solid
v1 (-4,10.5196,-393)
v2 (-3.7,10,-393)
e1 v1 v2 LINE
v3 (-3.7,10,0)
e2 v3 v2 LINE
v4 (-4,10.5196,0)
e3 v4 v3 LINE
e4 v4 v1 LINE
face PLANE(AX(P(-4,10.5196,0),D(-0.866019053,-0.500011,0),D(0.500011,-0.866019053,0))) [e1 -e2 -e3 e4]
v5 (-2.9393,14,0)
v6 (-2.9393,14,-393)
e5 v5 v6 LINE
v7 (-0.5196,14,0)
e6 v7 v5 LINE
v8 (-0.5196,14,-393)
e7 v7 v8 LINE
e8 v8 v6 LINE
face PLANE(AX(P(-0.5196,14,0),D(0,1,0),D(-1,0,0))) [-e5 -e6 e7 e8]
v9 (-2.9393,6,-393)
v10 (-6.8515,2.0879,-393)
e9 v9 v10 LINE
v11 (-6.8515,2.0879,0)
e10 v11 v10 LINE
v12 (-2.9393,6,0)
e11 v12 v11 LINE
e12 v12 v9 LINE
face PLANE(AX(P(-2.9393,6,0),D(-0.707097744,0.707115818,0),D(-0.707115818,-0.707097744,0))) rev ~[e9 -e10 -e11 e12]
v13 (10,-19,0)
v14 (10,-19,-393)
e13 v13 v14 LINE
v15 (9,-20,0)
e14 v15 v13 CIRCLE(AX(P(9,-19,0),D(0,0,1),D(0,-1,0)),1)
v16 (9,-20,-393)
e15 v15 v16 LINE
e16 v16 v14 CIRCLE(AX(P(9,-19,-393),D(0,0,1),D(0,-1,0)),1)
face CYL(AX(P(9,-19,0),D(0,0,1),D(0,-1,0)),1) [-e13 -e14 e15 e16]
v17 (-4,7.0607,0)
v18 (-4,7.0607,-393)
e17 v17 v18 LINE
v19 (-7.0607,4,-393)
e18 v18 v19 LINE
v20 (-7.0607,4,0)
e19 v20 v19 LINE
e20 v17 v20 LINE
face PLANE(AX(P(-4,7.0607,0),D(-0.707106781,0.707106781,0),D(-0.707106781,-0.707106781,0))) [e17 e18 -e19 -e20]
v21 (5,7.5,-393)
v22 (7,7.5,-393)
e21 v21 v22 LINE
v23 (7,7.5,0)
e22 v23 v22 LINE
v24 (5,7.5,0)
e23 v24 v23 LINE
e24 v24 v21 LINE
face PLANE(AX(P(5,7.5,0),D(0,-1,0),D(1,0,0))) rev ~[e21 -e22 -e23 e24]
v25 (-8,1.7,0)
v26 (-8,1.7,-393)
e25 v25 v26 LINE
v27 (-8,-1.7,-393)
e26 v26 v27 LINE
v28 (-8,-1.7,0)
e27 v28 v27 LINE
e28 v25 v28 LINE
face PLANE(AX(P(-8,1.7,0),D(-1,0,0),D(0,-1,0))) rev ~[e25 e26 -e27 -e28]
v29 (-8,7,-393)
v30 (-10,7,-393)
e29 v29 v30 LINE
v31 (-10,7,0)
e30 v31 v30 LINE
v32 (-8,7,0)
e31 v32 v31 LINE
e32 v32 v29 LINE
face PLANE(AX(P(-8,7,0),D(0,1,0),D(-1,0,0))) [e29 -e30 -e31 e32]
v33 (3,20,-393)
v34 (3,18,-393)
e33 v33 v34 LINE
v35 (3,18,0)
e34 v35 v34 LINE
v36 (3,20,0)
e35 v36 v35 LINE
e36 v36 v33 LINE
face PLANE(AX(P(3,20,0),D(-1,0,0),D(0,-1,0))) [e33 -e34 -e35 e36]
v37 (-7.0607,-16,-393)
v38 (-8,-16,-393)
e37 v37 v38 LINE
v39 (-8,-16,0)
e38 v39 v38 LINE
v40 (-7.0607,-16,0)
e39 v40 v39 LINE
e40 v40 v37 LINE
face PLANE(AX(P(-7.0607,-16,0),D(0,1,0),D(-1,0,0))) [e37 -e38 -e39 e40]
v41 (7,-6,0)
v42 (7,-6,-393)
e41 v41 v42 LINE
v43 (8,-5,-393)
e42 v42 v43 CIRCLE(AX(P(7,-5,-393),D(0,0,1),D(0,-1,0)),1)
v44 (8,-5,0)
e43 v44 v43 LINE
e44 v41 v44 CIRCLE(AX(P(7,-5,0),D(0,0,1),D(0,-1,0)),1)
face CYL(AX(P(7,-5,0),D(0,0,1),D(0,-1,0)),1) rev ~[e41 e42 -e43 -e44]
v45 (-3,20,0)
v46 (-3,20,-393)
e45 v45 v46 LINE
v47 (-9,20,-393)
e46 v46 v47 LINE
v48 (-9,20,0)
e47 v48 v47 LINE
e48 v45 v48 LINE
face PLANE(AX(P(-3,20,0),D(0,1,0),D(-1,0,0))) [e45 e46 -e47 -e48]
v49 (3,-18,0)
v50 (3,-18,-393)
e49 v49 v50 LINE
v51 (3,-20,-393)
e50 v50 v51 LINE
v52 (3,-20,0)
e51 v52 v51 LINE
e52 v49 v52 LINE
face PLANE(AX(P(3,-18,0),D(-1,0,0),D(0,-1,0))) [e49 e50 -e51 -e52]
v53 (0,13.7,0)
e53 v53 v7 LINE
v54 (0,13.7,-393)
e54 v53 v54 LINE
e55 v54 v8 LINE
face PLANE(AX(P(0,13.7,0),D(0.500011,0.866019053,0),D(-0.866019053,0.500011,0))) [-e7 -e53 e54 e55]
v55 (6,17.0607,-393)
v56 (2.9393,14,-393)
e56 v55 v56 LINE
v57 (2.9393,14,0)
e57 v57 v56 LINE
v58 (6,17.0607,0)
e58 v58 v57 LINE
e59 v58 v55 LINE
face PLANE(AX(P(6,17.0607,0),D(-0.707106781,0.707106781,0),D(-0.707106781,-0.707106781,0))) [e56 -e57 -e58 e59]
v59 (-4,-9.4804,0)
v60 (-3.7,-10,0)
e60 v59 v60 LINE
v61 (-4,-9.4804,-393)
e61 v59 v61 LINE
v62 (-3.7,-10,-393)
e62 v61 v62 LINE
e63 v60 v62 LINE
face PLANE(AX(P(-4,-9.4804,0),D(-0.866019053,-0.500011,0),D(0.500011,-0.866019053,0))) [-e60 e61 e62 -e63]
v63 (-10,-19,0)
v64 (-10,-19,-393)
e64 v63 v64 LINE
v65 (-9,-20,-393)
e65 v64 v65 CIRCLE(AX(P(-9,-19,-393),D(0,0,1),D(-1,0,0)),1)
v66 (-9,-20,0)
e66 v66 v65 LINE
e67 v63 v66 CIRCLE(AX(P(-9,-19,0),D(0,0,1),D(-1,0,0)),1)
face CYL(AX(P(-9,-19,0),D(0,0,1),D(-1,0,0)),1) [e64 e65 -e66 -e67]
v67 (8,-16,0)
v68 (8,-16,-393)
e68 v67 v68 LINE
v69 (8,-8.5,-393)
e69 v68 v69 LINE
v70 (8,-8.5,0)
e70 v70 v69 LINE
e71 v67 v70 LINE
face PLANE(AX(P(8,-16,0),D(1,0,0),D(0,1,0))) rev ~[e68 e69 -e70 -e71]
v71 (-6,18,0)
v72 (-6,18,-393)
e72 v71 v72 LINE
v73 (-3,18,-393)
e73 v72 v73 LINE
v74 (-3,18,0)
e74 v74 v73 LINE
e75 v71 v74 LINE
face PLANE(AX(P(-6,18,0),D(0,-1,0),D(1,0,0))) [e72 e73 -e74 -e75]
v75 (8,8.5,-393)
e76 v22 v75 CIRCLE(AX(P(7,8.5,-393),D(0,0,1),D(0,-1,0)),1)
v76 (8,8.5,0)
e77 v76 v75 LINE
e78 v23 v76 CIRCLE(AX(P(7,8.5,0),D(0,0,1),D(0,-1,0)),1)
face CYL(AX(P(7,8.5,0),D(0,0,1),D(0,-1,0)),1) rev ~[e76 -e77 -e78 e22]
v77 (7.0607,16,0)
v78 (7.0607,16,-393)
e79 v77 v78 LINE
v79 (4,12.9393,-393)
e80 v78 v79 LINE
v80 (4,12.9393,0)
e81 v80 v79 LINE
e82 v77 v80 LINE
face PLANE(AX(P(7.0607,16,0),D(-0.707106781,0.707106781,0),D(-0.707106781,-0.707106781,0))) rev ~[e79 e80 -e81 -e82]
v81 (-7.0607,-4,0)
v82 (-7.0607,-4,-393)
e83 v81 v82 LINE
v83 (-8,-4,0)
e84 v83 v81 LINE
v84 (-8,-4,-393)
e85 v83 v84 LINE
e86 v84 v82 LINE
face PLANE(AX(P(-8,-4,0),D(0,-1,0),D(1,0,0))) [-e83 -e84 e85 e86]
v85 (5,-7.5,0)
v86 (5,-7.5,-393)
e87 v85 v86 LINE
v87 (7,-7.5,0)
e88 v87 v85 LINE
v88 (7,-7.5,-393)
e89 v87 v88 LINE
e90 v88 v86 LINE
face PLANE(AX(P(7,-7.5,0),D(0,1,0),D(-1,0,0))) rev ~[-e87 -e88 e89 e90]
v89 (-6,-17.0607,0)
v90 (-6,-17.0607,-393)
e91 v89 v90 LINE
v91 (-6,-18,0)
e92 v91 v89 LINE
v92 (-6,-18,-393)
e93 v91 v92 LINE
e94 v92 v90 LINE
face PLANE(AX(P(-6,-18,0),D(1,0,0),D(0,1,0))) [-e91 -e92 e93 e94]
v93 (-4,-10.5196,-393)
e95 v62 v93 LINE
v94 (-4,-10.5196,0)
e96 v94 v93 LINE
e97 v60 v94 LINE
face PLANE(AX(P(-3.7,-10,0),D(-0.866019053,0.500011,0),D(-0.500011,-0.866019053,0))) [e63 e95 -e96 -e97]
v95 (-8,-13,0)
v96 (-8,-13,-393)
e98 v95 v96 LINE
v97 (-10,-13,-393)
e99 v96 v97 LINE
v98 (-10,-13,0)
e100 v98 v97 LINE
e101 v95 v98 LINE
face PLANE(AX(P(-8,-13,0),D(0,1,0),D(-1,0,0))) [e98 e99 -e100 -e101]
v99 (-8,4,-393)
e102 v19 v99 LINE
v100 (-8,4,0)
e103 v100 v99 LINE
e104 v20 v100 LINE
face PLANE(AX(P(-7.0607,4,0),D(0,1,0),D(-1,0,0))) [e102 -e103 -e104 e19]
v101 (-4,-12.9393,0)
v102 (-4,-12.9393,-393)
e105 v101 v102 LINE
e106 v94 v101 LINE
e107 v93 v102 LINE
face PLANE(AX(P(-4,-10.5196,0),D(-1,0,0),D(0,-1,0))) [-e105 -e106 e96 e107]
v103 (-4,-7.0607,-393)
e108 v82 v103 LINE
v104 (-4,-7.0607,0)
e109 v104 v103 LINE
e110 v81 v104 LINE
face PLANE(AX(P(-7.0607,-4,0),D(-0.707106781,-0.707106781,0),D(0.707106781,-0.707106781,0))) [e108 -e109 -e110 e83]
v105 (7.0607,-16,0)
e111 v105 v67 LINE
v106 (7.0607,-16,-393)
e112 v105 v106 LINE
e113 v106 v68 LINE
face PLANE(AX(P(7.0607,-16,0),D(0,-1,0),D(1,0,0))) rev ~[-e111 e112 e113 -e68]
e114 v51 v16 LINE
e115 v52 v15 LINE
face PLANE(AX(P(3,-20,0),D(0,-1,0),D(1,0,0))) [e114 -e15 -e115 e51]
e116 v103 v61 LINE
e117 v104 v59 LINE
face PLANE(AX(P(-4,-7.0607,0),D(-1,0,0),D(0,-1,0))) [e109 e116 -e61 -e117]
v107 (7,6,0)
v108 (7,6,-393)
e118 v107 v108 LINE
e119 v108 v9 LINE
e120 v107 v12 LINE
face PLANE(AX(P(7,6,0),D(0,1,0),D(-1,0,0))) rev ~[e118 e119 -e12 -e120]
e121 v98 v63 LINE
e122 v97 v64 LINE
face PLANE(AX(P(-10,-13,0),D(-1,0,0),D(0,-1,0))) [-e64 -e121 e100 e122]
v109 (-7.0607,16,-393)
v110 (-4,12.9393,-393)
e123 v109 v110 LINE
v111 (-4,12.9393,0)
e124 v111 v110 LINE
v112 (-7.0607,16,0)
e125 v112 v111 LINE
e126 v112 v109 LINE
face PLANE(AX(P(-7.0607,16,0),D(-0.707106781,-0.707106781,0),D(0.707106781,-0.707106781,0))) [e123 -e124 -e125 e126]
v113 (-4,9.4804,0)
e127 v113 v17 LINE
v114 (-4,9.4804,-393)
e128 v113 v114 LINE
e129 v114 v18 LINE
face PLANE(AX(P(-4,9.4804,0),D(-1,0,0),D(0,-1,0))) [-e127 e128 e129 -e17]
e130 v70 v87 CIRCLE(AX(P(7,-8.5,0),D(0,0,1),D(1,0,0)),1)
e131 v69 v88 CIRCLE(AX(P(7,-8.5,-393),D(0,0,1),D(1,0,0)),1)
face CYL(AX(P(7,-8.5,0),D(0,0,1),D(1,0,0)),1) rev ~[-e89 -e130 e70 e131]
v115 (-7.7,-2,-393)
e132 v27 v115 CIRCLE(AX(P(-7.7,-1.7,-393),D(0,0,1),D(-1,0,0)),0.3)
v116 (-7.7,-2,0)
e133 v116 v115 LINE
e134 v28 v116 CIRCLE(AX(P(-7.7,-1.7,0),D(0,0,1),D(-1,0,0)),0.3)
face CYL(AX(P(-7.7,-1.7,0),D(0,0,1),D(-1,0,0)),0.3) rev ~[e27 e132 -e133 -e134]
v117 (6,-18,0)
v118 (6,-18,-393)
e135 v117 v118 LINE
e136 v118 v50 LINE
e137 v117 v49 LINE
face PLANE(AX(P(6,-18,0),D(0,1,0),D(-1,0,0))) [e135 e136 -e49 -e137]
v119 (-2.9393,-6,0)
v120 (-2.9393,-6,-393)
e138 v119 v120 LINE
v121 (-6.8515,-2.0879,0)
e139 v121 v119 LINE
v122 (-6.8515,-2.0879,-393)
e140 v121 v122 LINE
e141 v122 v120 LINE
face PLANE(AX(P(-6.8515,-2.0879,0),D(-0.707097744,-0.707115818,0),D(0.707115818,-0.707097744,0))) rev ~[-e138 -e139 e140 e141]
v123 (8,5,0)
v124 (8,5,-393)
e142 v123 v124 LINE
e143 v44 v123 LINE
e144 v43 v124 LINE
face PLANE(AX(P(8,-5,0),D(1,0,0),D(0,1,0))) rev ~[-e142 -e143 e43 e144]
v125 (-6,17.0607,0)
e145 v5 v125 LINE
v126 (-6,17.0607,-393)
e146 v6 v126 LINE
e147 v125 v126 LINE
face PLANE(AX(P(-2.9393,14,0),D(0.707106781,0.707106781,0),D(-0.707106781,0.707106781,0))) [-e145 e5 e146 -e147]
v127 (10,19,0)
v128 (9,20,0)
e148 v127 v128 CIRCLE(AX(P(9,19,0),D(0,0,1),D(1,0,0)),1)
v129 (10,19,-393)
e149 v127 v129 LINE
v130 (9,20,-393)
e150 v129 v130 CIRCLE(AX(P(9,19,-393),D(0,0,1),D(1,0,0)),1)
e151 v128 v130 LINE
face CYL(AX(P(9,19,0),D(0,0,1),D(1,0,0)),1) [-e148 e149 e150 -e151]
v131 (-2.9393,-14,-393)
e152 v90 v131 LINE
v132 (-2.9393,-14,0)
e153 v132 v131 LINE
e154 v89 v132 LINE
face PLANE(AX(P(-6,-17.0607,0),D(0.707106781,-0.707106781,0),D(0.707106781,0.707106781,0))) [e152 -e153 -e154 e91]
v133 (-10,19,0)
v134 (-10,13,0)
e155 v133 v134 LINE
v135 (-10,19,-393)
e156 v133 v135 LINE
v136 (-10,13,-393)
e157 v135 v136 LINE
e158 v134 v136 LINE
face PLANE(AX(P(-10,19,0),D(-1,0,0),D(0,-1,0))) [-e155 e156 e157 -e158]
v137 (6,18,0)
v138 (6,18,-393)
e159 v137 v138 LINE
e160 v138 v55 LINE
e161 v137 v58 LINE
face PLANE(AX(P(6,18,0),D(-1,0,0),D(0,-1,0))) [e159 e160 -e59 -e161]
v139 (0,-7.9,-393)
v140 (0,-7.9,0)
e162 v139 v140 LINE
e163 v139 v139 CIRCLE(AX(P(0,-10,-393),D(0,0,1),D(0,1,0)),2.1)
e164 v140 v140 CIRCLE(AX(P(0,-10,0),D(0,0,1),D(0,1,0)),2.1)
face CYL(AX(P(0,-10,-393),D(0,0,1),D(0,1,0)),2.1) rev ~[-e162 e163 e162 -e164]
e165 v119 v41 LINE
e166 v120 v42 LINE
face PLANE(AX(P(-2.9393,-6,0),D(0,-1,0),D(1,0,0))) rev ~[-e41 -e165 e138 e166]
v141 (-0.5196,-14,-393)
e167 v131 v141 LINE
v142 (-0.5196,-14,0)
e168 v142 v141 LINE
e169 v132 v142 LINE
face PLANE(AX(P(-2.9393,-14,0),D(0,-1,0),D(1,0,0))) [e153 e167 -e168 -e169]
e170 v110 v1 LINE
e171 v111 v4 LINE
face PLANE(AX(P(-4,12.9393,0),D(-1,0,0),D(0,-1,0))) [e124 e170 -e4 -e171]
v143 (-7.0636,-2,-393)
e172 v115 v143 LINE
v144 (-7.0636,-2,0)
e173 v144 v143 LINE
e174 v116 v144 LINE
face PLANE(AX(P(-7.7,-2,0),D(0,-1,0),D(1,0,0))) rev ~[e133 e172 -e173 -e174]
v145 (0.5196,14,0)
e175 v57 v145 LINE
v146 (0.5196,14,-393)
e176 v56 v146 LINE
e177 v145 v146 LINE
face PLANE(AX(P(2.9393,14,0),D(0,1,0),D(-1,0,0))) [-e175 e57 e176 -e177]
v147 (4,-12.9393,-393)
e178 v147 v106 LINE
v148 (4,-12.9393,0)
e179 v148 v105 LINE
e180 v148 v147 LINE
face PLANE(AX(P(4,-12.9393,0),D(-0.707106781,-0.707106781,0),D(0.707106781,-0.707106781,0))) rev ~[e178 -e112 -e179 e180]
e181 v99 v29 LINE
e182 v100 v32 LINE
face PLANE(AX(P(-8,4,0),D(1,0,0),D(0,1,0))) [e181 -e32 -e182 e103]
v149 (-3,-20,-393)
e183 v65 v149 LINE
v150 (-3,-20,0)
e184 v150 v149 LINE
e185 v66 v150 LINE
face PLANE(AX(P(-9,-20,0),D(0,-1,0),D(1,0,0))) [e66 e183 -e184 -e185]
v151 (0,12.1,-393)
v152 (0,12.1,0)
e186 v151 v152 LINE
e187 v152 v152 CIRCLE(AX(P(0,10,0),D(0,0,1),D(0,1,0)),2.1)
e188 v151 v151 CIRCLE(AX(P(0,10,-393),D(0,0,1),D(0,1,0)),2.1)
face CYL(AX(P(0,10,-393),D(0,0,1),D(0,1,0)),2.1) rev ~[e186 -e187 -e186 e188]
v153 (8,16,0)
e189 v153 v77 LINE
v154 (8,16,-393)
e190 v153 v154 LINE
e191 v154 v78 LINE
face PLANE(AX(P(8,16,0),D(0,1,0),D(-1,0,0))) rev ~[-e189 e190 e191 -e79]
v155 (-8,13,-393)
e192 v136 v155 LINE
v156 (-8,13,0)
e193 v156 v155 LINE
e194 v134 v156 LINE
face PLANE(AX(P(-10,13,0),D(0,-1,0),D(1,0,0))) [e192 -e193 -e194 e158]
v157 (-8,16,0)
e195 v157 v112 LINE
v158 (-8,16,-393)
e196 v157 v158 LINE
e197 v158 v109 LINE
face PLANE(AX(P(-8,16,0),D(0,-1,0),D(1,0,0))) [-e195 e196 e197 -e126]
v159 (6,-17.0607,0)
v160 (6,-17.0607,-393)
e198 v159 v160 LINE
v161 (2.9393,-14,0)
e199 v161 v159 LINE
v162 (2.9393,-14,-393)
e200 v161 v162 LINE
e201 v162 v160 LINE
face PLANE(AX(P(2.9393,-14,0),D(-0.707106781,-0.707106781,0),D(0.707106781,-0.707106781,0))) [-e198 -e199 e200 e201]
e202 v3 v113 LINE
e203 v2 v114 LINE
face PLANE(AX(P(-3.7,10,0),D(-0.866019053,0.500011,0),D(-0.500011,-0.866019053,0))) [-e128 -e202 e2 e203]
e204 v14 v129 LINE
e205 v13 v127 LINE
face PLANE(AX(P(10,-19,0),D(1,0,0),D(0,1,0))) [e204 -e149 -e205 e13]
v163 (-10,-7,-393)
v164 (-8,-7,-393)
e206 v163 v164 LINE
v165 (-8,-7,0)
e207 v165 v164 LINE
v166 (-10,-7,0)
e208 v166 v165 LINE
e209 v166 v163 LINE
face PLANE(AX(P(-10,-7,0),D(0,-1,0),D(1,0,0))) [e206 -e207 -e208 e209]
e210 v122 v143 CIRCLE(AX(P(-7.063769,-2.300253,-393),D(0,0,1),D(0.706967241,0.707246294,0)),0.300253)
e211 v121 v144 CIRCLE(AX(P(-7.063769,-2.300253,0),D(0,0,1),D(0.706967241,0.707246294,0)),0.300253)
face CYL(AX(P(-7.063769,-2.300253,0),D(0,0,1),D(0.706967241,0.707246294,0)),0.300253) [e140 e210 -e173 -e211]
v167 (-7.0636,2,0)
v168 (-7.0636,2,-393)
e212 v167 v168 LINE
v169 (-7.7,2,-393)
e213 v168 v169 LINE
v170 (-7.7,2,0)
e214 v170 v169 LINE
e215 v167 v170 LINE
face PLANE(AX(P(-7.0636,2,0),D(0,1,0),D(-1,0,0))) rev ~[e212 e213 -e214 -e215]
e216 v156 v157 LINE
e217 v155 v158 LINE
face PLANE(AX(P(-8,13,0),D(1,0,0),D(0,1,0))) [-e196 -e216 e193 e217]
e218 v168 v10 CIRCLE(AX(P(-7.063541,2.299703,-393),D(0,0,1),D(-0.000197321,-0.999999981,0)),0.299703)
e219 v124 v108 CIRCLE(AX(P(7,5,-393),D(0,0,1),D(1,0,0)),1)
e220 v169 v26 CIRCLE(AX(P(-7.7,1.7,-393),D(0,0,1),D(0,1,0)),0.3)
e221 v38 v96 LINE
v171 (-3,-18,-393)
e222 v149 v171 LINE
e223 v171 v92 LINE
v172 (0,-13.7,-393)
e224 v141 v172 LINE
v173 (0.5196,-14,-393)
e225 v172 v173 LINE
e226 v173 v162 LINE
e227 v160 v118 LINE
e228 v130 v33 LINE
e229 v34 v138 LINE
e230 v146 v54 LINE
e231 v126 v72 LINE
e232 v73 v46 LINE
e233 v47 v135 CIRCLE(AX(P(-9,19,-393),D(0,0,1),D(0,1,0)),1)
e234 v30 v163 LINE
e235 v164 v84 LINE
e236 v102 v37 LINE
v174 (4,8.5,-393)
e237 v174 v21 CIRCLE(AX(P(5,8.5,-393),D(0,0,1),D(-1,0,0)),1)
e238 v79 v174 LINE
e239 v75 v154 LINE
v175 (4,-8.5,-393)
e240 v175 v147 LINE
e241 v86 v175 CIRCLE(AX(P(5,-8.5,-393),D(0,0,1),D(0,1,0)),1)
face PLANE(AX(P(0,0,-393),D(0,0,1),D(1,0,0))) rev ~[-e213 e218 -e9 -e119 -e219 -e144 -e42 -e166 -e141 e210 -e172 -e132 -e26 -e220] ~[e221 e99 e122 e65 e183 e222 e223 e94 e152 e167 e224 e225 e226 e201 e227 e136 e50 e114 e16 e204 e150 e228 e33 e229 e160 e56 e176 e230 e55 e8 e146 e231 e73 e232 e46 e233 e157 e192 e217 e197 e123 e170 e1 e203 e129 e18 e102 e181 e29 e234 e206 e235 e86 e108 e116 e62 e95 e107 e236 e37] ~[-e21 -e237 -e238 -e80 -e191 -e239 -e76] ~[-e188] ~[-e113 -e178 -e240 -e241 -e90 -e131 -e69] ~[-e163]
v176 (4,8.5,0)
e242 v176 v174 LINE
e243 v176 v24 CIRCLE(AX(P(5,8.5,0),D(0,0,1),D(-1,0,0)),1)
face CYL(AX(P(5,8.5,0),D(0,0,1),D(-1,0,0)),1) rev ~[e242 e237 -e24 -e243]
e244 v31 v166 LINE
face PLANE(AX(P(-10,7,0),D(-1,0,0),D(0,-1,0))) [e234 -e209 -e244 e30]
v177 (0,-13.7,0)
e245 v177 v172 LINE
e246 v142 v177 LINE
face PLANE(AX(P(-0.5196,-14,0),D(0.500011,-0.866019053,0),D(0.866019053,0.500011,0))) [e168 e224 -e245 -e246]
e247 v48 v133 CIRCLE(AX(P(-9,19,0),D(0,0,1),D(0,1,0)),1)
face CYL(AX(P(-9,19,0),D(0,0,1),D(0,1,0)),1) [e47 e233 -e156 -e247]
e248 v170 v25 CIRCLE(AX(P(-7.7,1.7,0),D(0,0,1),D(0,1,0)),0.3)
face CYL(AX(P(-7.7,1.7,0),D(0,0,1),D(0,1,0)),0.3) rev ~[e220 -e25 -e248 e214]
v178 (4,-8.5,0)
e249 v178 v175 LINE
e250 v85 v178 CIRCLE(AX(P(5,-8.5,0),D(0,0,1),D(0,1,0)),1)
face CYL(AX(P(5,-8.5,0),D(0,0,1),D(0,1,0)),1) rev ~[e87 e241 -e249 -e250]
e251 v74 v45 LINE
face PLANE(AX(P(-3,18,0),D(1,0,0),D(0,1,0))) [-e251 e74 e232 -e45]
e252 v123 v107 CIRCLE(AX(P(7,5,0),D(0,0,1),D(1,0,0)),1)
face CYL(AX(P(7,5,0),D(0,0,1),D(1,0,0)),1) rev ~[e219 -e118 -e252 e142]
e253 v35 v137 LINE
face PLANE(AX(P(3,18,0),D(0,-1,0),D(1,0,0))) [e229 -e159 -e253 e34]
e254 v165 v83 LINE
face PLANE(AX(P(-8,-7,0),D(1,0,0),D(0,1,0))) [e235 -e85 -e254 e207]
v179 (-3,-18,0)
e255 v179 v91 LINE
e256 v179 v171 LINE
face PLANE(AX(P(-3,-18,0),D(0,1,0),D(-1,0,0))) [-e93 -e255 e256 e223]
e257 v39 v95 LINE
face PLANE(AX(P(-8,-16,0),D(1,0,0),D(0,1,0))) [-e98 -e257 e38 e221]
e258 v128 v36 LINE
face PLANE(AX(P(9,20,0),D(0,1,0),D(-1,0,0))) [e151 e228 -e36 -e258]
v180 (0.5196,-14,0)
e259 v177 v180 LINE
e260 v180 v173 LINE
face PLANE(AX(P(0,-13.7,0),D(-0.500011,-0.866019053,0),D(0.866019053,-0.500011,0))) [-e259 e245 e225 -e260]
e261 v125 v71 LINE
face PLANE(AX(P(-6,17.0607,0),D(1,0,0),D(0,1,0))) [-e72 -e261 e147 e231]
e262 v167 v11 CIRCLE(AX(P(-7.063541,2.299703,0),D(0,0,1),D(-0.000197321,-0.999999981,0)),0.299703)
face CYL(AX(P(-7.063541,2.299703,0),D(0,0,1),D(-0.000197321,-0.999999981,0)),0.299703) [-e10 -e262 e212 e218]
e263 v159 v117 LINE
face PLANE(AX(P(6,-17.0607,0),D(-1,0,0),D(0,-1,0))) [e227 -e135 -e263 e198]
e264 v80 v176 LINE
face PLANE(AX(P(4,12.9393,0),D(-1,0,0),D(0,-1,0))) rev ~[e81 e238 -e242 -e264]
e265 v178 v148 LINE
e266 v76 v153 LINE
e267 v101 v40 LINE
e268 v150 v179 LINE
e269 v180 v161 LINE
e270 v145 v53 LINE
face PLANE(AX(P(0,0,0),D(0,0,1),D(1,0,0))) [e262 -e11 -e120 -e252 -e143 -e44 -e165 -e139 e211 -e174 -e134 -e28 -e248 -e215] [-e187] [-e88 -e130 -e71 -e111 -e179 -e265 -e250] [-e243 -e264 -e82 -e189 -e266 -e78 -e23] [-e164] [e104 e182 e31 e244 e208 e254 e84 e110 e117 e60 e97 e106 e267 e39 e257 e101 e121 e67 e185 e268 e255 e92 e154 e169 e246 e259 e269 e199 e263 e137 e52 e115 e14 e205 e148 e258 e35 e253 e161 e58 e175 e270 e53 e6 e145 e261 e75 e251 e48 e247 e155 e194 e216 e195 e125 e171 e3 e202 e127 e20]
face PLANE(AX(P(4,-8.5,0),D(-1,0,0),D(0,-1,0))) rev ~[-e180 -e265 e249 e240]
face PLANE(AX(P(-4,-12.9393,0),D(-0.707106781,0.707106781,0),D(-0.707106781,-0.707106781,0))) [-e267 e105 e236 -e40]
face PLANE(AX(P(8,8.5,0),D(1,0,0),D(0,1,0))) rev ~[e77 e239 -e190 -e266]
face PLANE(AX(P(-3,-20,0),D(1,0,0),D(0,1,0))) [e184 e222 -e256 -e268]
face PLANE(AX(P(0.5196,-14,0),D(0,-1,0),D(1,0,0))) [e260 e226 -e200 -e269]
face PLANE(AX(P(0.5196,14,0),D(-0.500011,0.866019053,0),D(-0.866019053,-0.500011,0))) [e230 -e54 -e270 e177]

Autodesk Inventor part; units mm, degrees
sketch "Sketch_63" plane through (0, 0, 0) normal (0, 0, 1) x (1, 0, 0)
  line L0 (-10, -7) -> (-8, -7)
  line L1 (-8, -7) -> (-8, -4)
  line L2 (-8, -4) -> (-7.0607, -4)
  line L3 (-7.0607, -4) -> (-4, -7.0607)
  line L4 (-4, -7.0607) -> (-4, -9.4804)
  line L5 (-4, -9.4804) -> (-3.7, -10)
  line L6 (-3.7, -10) -> (-4, -10.5196)
  line L7 (-4, -10.5196) -> (-4, -12.9393)
  line L8 (-4, -12.9393) -> (-7.0607, -16)
  line L9 (-7.0607, -16) -> (-8, -16)
  line L10 (-8, -16) -> (-8, -13)
  line L11 (-8, -13) -> (-10, -13)
  line L12 (-10, -13) -> (-10, -19)
  arc A0 (-10, -19) -> (-9, -20) centre (-9, -19) ccw
  line L13 (-9, -20) -> (-3, -20)
  line L14 (-3, -20) -> (-3, -18)
  line L15 (-3, -18) -> (-6, -18)
  line L16 (-6, -18) -> (-6, -17.0607)
  line L17 (-6, -17.0607) -> (-2.9393, -14)
  line L18 (-2.9393, -14) -> (-0.5196, -14)
  line L19 (-0.5196, -14) -> (0, -13.7)
  line L20 (0, -13.7) -> (0.5196, -14)
  line L21 (0.5196, -14) -> (2.9393, -14)
  line L22 (2.9393, -14) -> (6, -17.0607)
  line L23 (6, -17.0607) -> (6, -18)
  line L24 (6, -18) -> (3, -18)
  line L25 (3, -18) -> (3, -20)
  line L26 (3, -20) -> (9, -20)
  arc A1 (9, -20) -> (10, -19) centre (9, -19) ccw
  line L27 (10, -19) -> (10, 19)
  arc A2 (10, 19) -> (9, 20) centre (9, 19) ccw
  line L28 (9, 20) -> (3, 20)
  line L29 (3, 20) -> (3, 18)
  line L30 (3, 18) -> (6, 18)
  line L31 (6, 18) -> (6, 17.0607)
  line L32 (6, 17.0607) -> (2.9393, 14)
  line L33 (2.9393, 14) -> (0.5196, 14)
  line L34 (0.5196, 14) -> (0, 13.7)
  line L35 (0, 13.7) -> (-0.5196, 14)
  line L36 (-0.5196, 14) -> (-2.9393, 14)
  line L37 (-2.9393, 14) -> (-6, 17.0607)
  line L38 (-6, 17.0607) -> (-6, 18)
  line L39 (-6, 18) -> (-3, 18)
  line L40 (-3, 18) -> (-3, 20)
  line L41 (-3, 20) -> (-9, 20)
  arc A3 (-9, 20) -> (-10, 19) centre (-9, 19) ccw
  line L42 (-10, 19) -> (-10, 13)
  line L43 (-10, 13) -> (-8, 13)
  line L44 (-8, 13) -> (-8, 16)
  line L45 (-8, 16) -> (-7.0607, 16)
  line L46 (-7.0607, 16) -> (-4, 12.9393)
  line L47 (-4, 12.9393) -> (-4, 10.5196)
  line L48 (-4, 10.5196) -> (-3.7, 10)
  line L49 (-3.7, 10) -> (-4, 9.4804)
  line L50 (-4, 9.4804) -> (-4, 7.0607)
  line L51 (-4, 7.0607) -> (-7.0607, 4)
  line L52 (-7.0607, 4) -> (-8, 4)
  line L53 (-8, 4) -> (-8, 7)
  line L54 (-8, 7) -> (-10, 7)
  line L55 (-10, 7) -> (-10, -7)
  line L56 (4, 12.9393) -> (4, 8.5)
  arc A4 (4, 8.5) -> (5, 7.5) centre (5, 8.5) ccw
  line L57 (5, 7.5) -> (7, 7.5)
  arc A5 (7, 7.5) -> (8, 8.5) centre (7, 8.5) ccw
  line L58 (8, 8.5) -> (8, 16)
  line L59 (8, 16) -> (7.0607, 16)
  line L60 (7.0607, 16) -> (4, 12.9393)
  line L61 (4, -12.9393) -> (7.0607, -16)
  line L62 (7.0607, -16) -> (8, -16)
  line L63 (8, -16) -> (8, -8.5)
  arc A6 (8, -8.5) -> (7, -7.5) centre (7, -8.5) ccw
  line L64 (7, -7.5) -> (5, -7.5)
  arc A7 (5, -7.5) -> (4, -8.5) centre (5, -8.5) ccw
  line L65 (4, -8.5) -> (4, -12.9393)
  line L66 (-8, 1.7) -> (-8, -1.7)
  arc A8 (-8, -1.7) -> (-7.7, -2) centre (-7.7, -1.7) ccw
  line L67 (-7.7, -2) -> (-7.0636, -2)
  arc A9 (-6.8515, -2.0879) -> (-7.0636, -2) centre (-7.0636, -2.3) ccw
  line L68 (-6.8515, -2.0879) -> (-2.9393, -6)
  line L69 (-2.9393, -6) -> (7, -6)
  arc A10 (7, -6) -> (8, -5) centre (7, -5) ccw
  line L70 (8, -5) -> (8, 5)
  arc A11 (8, 5) -> (7, 6) centre (7, 5) ccw
  line L71 (7, 6) -> (-2.9393, 6)
  line L72 (-2.9393, 6) -> (-6.8515, 2.0879)
  arc A12 (-7.0636, 2) -> (-6.8515, 2.0879) centre (-7.0636, 2.3) ccw
  line L73 (-7.0636, 2) -> (-7.7, 2)
  arc A13 (-7.7, 2) -> (-8, 1.7) centre (-7.7, 1.7) ccw
extrude "Extrusion1" add sketch "Sketch_63" against normal blind 393
sketch "Sketch2" plane through (0, 0, -393) normal (0, 0, -1) x (-1, 0, 0)
  point P0 (0, 10)
hole "Hole1" at (0, 10, -393) direction (0, 0, 1) diameter 4.2 end through all
pattern_linear "Rectangular Pattern1" count 2 spacing 20 along (0, -1, 0) of "Hole1"
ref_plane "C1_XY" through (0, 0, 0) normal (0, 0, 1) x (1, 0, 0)
ref_plane "C1_YZ" through (0, 0, 0) normal (1, 0, 0) x (0, 1, 0)
ref_plane "C1_ZX" through (0, 0, 0) normal (0, 1, 0) x (0, 0, 1)
thread "Thread1" size "M5x0.8" class "6H" standard "ANSI Metric M Profile" length 10
thread "Thread2" size "M5x0.8" class "6H" standard "ANSI Metric M Profile" length 10
thread "Thread3" size "M5x0.8" class "6H" standard "ANSI Metric M Profile" length 10
thread "Thread4" size "M4.5x0.75" class "6H" standard "ANSI Metric M Profile" length 10
properties part number "HFSF5-2040-393" material "Aluminum 6061"
